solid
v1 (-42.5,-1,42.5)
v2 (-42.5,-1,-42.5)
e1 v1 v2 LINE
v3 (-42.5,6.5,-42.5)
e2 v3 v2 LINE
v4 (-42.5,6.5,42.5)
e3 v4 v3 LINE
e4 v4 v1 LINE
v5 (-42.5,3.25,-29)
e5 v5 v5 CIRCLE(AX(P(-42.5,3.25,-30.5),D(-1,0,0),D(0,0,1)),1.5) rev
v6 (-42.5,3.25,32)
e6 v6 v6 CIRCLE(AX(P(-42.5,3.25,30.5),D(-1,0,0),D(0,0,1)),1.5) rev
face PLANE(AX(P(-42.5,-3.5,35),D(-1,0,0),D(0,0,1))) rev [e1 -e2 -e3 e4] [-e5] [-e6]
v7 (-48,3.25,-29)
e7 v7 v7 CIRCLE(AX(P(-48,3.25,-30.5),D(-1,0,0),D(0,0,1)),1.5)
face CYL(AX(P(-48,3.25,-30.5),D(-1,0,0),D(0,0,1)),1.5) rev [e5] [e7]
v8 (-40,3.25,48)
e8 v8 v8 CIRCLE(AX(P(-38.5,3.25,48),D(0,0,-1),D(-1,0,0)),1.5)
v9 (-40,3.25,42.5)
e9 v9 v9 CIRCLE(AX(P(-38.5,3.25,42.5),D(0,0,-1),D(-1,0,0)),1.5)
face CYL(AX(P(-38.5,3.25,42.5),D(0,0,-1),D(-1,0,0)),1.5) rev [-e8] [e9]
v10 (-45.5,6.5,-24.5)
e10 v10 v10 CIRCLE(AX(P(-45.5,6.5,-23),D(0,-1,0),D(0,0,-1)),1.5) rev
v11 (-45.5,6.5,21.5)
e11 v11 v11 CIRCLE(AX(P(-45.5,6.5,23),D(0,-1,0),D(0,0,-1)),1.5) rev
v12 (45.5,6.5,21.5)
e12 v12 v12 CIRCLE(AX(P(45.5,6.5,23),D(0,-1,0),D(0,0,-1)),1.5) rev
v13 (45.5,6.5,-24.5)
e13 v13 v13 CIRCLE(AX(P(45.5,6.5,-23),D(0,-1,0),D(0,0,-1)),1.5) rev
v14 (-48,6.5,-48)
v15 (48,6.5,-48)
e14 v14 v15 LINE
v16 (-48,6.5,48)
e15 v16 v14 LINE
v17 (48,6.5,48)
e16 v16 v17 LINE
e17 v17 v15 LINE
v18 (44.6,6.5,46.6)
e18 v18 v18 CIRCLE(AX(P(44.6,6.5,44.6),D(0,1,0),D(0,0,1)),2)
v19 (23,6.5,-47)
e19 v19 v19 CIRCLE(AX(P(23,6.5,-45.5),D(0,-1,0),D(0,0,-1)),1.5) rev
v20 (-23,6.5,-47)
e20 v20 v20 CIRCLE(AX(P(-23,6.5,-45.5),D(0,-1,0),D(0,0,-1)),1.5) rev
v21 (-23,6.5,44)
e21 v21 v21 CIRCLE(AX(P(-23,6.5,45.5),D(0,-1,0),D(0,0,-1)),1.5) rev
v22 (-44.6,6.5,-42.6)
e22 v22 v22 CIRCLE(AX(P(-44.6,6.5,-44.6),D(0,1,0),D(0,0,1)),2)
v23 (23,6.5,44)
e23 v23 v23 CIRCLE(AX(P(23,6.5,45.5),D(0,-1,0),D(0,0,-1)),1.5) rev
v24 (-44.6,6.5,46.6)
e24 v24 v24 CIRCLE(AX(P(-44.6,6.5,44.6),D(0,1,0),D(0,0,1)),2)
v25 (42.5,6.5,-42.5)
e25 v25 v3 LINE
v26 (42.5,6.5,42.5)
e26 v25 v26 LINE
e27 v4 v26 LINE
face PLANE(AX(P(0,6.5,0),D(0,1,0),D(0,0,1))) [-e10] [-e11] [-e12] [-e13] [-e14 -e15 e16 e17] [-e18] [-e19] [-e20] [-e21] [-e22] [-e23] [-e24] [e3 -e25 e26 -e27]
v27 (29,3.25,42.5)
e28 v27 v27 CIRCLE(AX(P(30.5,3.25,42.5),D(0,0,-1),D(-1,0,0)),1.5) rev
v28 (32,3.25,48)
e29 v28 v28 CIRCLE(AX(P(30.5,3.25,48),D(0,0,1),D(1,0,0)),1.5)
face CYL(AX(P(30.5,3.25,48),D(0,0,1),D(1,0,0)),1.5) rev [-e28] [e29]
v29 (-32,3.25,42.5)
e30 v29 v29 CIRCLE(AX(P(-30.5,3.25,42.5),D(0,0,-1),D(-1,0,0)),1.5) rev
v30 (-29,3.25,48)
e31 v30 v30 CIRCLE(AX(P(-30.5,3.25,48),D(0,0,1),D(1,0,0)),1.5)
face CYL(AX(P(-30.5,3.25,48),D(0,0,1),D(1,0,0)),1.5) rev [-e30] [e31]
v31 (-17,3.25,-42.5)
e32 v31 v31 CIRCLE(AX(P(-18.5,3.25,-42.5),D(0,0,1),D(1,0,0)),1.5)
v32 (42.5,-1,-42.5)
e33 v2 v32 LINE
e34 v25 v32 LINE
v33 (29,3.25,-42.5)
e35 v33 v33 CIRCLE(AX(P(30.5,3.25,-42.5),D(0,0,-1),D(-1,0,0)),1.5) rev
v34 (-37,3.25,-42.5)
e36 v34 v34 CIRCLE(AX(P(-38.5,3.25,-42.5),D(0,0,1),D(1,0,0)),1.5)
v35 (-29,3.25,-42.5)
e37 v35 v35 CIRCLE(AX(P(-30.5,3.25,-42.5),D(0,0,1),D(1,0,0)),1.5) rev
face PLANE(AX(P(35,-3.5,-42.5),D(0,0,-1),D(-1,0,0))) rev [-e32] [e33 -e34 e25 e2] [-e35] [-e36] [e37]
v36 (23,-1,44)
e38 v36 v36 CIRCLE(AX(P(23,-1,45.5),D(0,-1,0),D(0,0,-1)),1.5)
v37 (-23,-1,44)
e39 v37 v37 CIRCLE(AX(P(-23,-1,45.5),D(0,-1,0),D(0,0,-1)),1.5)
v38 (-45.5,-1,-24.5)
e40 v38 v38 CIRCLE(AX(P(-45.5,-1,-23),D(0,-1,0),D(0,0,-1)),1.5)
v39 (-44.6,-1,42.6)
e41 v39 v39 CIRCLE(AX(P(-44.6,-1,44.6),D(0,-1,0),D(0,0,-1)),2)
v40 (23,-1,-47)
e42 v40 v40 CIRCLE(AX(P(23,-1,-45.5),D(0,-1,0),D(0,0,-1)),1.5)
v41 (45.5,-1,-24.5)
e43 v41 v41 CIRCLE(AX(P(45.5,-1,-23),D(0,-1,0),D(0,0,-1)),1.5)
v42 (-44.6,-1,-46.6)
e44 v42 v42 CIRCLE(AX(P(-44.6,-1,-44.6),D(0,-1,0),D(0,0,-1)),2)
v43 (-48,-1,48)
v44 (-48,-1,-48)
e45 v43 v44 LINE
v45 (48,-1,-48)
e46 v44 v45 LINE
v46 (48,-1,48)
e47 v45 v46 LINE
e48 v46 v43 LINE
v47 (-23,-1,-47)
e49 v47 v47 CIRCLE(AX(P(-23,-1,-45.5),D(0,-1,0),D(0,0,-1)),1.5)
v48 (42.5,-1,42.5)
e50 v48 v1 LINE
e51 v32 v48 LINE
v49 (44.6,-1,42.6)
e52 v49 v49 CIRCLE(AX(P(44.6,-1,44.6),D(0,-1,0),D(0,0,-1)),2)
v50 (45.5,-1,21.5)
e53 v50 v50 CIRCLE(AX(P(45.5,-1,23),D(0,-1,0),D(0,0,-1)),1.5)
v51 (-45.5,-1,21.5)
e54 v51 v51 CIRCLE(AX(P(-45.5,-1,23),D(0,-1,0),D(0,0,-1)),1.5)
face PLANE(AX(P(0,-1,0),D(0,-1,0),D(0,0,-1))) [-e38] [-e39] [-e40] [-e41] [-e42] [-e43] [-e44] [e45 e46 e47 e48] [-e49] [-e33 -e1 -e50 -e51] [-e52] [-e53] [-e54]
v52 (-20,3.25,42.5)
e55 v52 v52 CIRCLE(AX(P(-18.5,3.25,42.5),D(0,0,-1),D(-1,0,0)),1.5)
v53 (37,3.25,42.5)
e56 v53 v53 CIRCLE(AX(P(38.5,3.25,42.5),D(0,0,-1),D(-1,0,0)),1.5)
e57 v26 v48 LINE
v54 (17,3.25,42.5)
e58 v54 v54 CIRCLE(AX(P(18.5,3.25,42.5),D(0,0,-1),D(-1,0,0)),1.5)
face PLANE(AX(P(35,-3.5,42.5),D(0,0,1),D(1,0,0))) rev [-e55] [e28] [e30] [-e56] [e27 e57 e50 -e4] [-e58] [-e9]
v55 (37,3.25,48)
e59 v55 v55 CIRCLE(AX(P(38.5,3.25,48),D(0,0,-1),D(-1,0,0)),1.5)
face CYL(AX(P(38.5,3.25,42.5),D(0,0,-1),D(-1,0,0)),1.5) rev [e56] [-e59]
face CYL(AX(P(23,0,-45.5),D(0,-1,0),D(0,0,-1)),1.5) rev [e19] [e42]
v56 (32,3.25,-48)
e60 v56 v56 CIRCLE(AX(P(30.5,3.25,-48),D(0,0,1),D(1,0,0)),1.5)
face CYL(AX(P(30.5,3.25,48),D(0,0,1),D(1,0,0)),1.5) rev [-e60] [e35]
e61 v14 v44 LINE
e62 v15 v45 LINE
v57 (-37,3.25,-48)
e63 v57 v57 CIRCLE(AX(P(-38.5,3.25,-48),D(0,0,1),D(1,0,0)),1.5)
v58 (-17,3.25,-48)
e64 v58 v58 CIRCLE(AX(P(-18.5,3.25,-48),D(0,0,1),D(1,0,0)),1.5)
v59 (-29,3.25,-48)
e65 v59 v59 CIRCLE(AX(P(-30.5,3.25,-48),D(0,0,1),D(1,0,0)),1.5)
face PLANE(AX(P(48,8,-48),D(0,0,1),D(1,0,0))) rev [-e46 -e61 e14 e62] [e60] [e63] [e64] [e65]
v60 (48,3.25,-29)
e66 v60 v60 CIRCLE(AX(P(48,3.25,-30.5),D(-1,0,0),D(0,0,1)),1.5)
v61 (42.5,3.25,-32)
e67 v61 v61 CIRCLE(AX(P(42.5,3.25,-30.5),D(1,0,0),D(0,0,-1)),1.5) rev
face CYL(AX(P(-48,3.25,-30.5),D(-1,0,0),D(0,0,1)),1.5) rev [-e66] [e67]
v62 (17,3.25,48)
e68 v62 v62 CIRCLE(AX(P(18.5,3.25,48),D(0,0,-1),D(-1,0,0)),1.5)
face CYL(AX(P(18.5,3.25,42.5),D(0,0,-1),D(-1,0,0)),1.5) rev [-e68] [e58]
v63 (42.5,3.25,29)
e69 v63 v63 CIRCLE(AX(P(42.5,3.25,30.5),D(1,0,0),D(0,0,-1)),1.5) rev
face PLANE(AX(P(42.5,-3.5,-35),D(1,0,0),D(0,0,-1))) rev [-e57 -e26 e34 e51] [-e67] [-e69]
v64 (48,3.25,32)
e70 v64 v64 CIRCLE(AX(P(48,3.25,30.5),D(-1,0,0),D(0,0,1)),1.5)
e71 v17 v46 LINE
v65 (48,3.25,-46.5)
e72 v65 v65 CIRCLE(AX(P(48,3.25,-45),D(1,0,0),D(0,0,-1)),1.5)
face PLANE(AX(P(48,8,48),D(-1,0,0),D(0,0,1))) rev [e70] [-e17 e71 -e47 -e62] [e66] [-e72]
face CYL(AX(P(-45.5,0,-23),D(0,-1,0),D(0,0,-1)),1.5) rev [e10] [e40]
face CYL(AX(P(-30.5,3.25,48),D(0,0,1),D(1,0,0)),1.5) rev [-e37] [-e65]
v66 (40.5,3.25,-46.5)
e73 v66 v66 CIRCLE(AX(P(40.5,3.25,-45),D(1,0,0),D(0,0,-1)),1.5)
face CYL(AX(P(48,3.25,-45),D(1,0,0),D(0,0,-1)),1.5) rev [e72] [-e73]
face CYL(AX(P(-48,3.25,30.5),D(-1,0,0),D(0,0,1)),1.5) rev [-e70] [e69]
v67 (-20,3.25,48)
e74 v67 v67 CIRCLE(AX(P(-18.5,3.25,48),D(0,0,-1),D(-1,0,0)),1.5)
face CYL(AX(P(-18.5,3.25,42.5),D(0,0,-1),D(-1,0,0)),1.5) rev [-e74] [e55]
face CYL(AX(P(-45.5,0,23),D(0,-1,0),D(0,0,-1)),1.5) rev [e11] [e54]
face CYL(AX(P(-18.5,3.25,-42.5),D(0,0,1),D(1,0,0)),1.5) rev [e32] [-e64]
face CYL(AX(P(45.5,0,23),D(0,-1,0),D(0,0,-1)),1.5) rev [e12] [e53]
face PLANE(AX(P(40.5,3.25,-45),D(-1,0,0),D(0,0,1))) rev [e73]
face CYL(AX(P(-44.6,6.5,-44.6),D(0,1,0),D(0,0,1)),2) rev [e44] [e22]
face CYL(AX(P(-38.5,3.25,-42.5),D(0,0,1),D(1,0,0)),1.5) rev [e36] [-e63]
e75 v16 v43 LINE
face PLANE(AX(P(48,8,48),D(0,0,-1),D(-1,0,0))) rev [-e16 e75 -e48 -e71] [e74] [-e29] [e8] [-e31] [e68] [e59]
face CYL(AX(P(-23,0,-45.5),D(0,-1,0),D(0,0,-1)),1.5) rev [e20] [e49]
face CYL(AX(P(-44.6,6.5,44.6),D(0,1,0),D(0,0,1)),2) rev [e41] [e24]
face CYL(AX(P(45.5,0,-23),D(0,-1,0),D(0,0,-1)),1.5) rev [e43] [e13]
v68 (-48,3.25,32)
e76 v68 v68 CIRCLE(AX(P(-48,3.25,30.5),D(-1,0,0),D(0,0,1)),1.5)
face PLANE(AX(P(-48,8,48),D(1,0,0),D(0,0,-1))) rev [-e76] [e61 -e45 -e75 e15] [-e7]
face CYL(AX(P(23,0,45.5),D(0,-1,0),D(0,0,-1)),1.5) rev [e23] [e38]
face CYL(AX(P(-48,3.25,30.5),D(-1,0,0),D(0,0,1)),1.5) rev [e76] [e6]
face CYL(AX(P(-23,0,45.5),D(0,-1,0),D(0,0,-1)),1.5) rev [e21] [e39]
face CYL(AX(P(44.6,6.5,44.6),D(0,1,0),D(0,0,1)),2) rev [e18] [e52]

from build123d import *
from build123d.topology import SkipClean

# Parameters (mm, degrees)
SKETCH1_W                               = 96
SKETCH1_H                               = 96
SKETCH1_W_2                             = 80
SKETCH1_H_2                             = 80
BOSS_EXTRUDE1_DEPTH                     = 8
SKETCH27_W                              = 82
SKETCH27_H                              = 82
CUT_EXTRUDE2_DEPTH                      = 10
F_3_0_3_DIAMETER_HOLE1_D                = 3
TAP_DRILL_FOR_M3X0_5_TAP2_D             = 3
SKETCH38_W                              = 85
SKETCH38_H                              = 85
CUT_EXTRUDE4_DEPTH                      = 10
F_3_0_3_DIAMETER_HOLE7_D                = 3
SKETCH44_W                              = 4
SKETCH44_H                              = 4
BOSS_EXTRUDE2_DEPTH                     = 8
SKETCH45_W                              = 4
SKETCH45_H                              = 3.5
BOSS_EXTRUDE3_DEPTH                     = 8
SKETCH49_W                              = 96
SKETCH49_H                              = 1.5
CUT_EXTRUDE5_DEPTH                      = 146
TAP_DRILL_FOR_M4_TAP1_D                 = 4
SKETCH53_W                              = 4
SKETCH53_H                              = 6.5
BOSS_EXTRUDE5_DEPTH                     = 78
SKETCH57_W                              = 4
SKETCH57_H                              = 6.5
CUT_EXTRUDE6_DEPTH                      = 7.5
SKETCH58_W                              = 4
SKETCH58_H                              = 6.5
BOSS_EXTRUDE7_DEPTH                     = 81
SKETCH61_W                              = 32
SKETCH61_H                              = 85
CUT_EXTRUDE7_DEPTH                      = 81
SKETCH66_W                              = 85
SKETCH66_H                              = 80.198
CUT_EXTRUDE8_DEPTH                      = 10
SKETCH67_W                              = 85
SKETCH67_H                              = 85
CUT_EXTRUDE9_DEPTH                      = 3.5
SKETCH68_W                              = 52
SKETCH68_H                              = 85
CUT_EXTRUDE10_DEPTH                     = 56
SKETCH54_W                              = 20
SKETCH54_H                              = 1.45
BOSS_EXTRUDE8_DEPTH                     = 18.5
CUT_EXTRUDE12_START                     = -10.22
SKETCH75_W                              = 2.401
SKETCH75_H                              = 3
CUT_EXTRUDE12_DEPTH                     = 72.44
SKETCH77_W                              = 2.401
SKETCH77_H                              = 3
CUT_EXTRUDE13_DEPTH                     = 6.28
SKETCH78_W                              = 85
SKETCH78_H                              = 85
CUT_EXTRUDE14_DEPTH                     = 6.5
SKETCH79_W                              = 85
SKETCH79_H                              = 85
SKETCH79_W_2                            = 81
SKETCH79_H_2                            = 81
BOSS_EXTRUDE12_DEPTH                    = 6.5
SKETCH82_W                              = 1.25
SKETCH82_H                              = 7.5
TAP_DRILL_FOR_M2_5X0_45_TAP2_AT_2_COUNT = 2
TAP_DRILL_FOR_M2_5X0_45_TAP2_AT_2_PITCH = 9.5
TAP_DRILL_FOR_M2_5X0_45_TAP2_AT_3_COUNT = 2
TAP_DRILL_FOR_M2_5X0_45_TAP2_AT_3_PITCH = 66.500000164
TAP_DRILL_FOR_M2_5X0_45_TAP2_AT_4_COUNT = 2
TAP_DRILL_FOR_M2_5X0_45_TAP2_AT_4_PITCH = 57.000000192
SKETCH84_W                              = 1.25
SKETCH84_H                              = 1.451
TAP_DRILL_FOR_M2_5X0_45_TAP3_AT_2_COUNT = 2
TAP_DRILL_FOR_M2_5X0_45_TAP3_AT_2_PITCH = 9.5
SKETCH86_W                              = 1.5
SKETCH86_H                              = 7.5
SKETCH88_W                              = 2
SKETCH88_H                              = 70
SKETCH88_W_2                            = 70
SKETCH88_H_2                            = 2
CUT_EXTRUDE15_DEPTH                     = 10
SKETCH89_W                              = 85
SKETCH89_H                              = 81
CUT_EXTRUDE16_DEPTH                     = 10
SKETCH90_W                              = 2
SKETCH90_H                              = 6.5
CUT_EXTRUDE17_DEPTH                     = 7.5
SKETCH91_W                              = 96
SKETCH91_H                              = 96
SKETCH91_R                              = 1.5
SKETCH91_R_2                            = 2
BOSS_EXTRUDE14_DEPTH                    = 1
SKETCH92_W                              = 12.5
SKETCH92_H                              = 2
BOSS_EXTRUDE15_DEPTH                    = 1
SKETCH94_W                              = 12.5
SKETCH94_H                              = 2
BOSS_EXTRUDE16_DEPTH                    = 1
SKETCH95_W                              = 12.5
SKETCH95_H                              = 2
BOSS_EXTRUDE17_DEPTH                    = 1
SKETCH96_W                              = 12.5
SKETCH96_H                              = 6.5
SKETCH96_R                              = 1.5
BOSS_EXTRUDE18_DEPTH                    = 2
SKETCH97_W                              = 12.5
SKETCH97_H                              = 6.5
SKETCH97_R                              = 1.5
BOSS_EXTRUDE19_DEPTH                    = 2
CUT_EXTRUDE19_DEPTH                     = 45
CUT_EXTRUDE19_DEPTH_BACK                = 10
SKETCH98_W                              = 85
SKETCH98_H                              = 85
TAP_DRILL_FOR_M3X0_5_TAP5_D             = 3
TAP_DRILL_FOR_M3X0_5_TAP5_DEPTH         = 5.5
TAP_DRILL_FOR_M3X0_5_TAP6_D             = 3


with BuildPart() as part:
    # Sketch1 → Boss-Extrude1 (new body)
    with BuildSketch(Plane(origin=(0, 0, 0), x_dir=(1, 0, 0), z_dir=(0, 1, 0))):
        Rectangle(SKETCH1_W, SKETCH1_H)
        Rectangle(SKETCH1_W_2, SKETCH1_H_2, mode=Mode.SUBTRACT)
    extrude(amount=BOSS_EXTRUDE1_DEPTH)

    # Sketch27 → Cut-Extrude2 (cut)
    with BuildSketch(Plane(origin=(0, 8, 0), x_dir=(1, 0, 0), z_dir=(0, 1, 0))):
        Rectangle(SKETCH27_W, SKETCH27_H)
    extrude(amount=-CUT_EXTRUDE2_DEPTH, mode=Mode.SUBTRACT)

    # Ø3.0 (3) Diameter Hole1 (through all)
    with Locations(Plane.XY.offset(48)):
        with Locations((-30.5, 3.25), (30.5, 3.25)):
            Hole(F_3_0_3_DIAMETER_HOLE1_D / 2)

    # Tap Drill for M3x0.5 Tap2 (through all)
    with Locations(Plane(origin=(0, 0, 0), x_dir=(-1, 0, 0), z_dir=(0, -1, 0))):
        with Locations((23, -45.5), (-23, -45.5), (-45.5, -23), (-45.5, 23), (-23, 45.5), (23, 45.5), (45.5, 23), (45.5, -23)):
            Hole(TAP_DRILL_FOR_M3X0_5_TAP2_D / 2)

    # Sketch38 → Cut-Extrude4 (cut)
    with BuildSketch(Plane(origin=(0, 8, 0), x_dir=(1, 0, 0), z_dir=(0, 1, 0))):
        Rectangle(SKETCH38_W, SKETCH38_H)
    extrude(amount=-CUT_EXTRUDE4_DEPTH, mode=Mode.SUBTRACT)

    # Ø3.0 (3) Diameter Hole7 (through all)
    with Locations(Plane.ZY.offset(48)):
        with Locations((-30.5, 3.25), (30.5, 3.25)):
            Hole(F_3_0_3_DIAMETER_HOLE7_D / 2)

    # Sketch44 → Boss-Extrude2 (add)
    with BuildSketch(Plane.XZ):
        with Locations((40.5, -40.5)):
            Rectangle(SKETCH44_W, SKETCH44_H)
        with Locations((-40.5, -40.5)):
            Rectangle(SKETCH44_W, SKETCH44_H)
        with Locations((-40.5, 40.5)):
            Rectangle(SKETCH44_W, SKETCH44_H)
        with Locations((40.5, 40.5)):
            Rectangle(SKETCH44_W, SKETCH44_H)
    extrude(amount=-BOSS_EXTRUDE2_DEPTH)

    # Sketch45 → Boss-Extrude3 (add)
    with BuildSketch(Plane(origin=(0, 8, 0), x_dir=(1, 0, 0), z_dir=(0, 1, 0))):
        with Locations((-40.5, 36.75)):
            Rectangle(SKETCH45_W, SKETCH45_H)
    extrude(amount=-BOSS_EXTRUDE3_DEPTH)

    # Sketch49 → Cut-Extrude5 (cut)
    with BuildSketch(Plane(origin=(48, 0, 0), x_dir=(0, 0, -1), z_dir=(1, 0, 0))):
        with Locations((0, 7.25)):
            Rectangle(SKETCH49_W, SKETCH49_H)
    extrude(amount=-CUT_EXTRUDE5_DEPTH, mode=Mode.SUBTRACT)

    # Tap Drill for M4 Tap1 (through all)
    with Locations(Plane(origin=(0, 6.5, 0), x_dir=(1, 0, 0), z_dir=(0, 1, 0))):
        with Locations((44.6, -44.6), (-44.6, -44.6), (-44.6, 44.6)):
            Hole(TAP_DRILL_FOR_M4_TAP1_D / 2)

    # Sketch53 → Boss-Extrude5 (add)
    with BuildSketch(Plane(origin=(-38.5, 0, 0), x_dir=(0, 0, -1), z_dir=(1, 0, 0))):
        with Locations((-40.5, 3.25)):
            Rectangle(SKETCH53_W, SKETCH53_H)
    extrude(amount=BOSS_EXTRUDE5_DEPTH)

    # Sketch57 → Cut-Extrude6 (cut)
    with BuildSketch(Plane.XY.offset(-35)):
        with Locations((-40.5, 3.25)):
            Rectangle(SKETCH57_W, SKETCH57_H)
    extrude(amount=-CUT_EXTRUDE6_DEPTH, mode=Mode.SUBTRACT)

    # Sketch58 → Boss-Extrude7 (add)
    with BuildSketch(Plane.ZY.offset(-38.5)):
        with Locations((-40.5, 3.25)):
            Rectangle(SKETCH58_W, SKETCH58_H)
    extrude(amount=BOSS_EXTRUDE7_DEPTH)

    # Sketch61 → Cut-Extrude7 (cut)
    with BuildSketch(Plane(origin=(0, 6.5, 0), x_dir=(1, 0, 0), z_dir=(0, 1, 0))):
        Rectangle(SKETCH61_W, SKETCH61_H)
    extrude(amount=-CUT_EXTRUDE7_DEPTH, mode=Mode.SUBTRACT)

    # Sketch66 → Cut-Extrude8 (cut)
    with BuildSketch(Plane(origin=(0, 6.5, 0), x_dir=(1, 0, 0), z_dir=(0, 1, 0))):
        Rectangle(SKETCH66_W, SKETCH66_H)
    extrude(amount=-CUT_EXTRUDE8_DEPTH, mode=Mode.SUBTRACT)

    # Sketch67 → Cut-Extrude9 (cut)
    with BuildSketch(Plane.XZ):
        Rectangle(SKETCH67_W, SKETCH67_H)
    extrude(amount=-CUT_EXTRUDE9_DEPTH, mode=Mode.SUBTRACT)

    # Sketch68 → Cut-Extrude10 (cut)
    with BuildSketch(Plane(origin=(0, 6.5, 0), x_dir=(1, 0, 0), z_dir=(0, 1, 0))):
        Rectangle(SKETCH68_W, SKETCH68_H)
    extrude(amount=-CUT_EXTRUDE10_DEPTH, mode=Mode.SUBTRACT)

    # Sketch54 → Boss-Extrude8 (add)
    with BuildSketch(Plane(origin=(0, 6.5, 0), x_dir=(1, 0, 0), z_dir=(0, 1, 0))):
        with Locations((-32.5, -41.225)):
            Rectangle(SKETCH54_W, SKETCH54_H)
    boss_extrude8 = extrude(amount=BOSS_EXTRUDE8_DEPTH)

    # Mirror1: Boss-Extrude8 across plane
    add(boss_extrude8.mirror(Plane(origin=(0, 0, 0), x_dir=(0, 0, 1), z_dir=(1, 0, 0))))

    # Sketch75 → Cut-Extrude12 (cut)
    with BuildSketch(Plane.ZY.offset(-26).offset(CUT_EXTRUDE12_START)):
        with Locations((41.2995, 5)):
            Rectangle(SKETCH75_W, SKETCH75_H)
    cut_extrude12 = extrude(amount=CUT_EXTRUDE12_DEPTH, mode=Mode.SUBTRACT)

    # Mirror2: Boss-Extrude8 across plane
    add(boss_extrude8.mirror(Plane.XY))

    # Mirror3: Cut-Extrude12 across plane
    add(cut_extrude12.mirror(Plane.XY), mode=Mode.SUBTRACT)

    # Sketch77 → Cut-Extrude13 (cut)
    with BuildSketch(Plane.ZY.offset(-36.22)):
        with Locations((-41.2995, 5)):
            Rectangle(SKETCH77_W, SKETCH77_H)
    extrude(amount=-CUT_EXTRUDE13_DEPTH, mode=Mode.SUBTRACT)

    # Sketch78 → Cut-Extrude14 (cut)
    with BuildSketch(Plane.XZ):
        Rectangle(SKETCH78_W, SKETCH78_H)
    extrude(amount=-CUT_EXTRUDE14_DEPTH, mode=Mode.SUBTRACT)


with BuildPart() as cut_extrude14_piece_1:
    # of the separate pieces the step leaves, piece 1, a body of its own (cut_extrude14_pieces)
    add(part.part.solids().sort_by_distance((48, 0, 48))[0])

    # Sketch79 → Boss-Extrude12 (add)
    with BuildSketch(Plane.XZ):
        Rectangle(SKETCH79_W, SKETCH79_H)
        Rectangle(SKETCH79_W_2, SKETCH79_H_2, mode=Mode.SUBTRACT)
    extrude(amount=-BOSS_EXTRUDE12_DEPTH)

    # Sketch86 → Tap Drill for M3x0.5 Tap4 (revolve, cut)
    with BuildSketch(Plane(origin=(48, 3.25, -45), x_dir=(0, 0, -1), z_dir=(0, 1, 0))):
        with Locations((0.75, 3.75)):
            Rectangle(SKETCH86_W, SKETCH86_H)
    revolve(axis=Axis((54.35, 3.25, -45), (-1, 0, 0)), mode=Mode.SUBTRACT)

    # Sketch88 → Cut-Extrude15 (cut)
    with BuildSketch(Plane(origin=(0, 6.5, 0), x_dir=(1, 0, 0), z_dir=(0, 1, 0))):
        with Locations((41.5, 0)):
            Rectangle(SKETCH88_W, SKETCH88_H)
        with Locations((0, -41.5)):
            Rectangle(SKETCH88_W_2, SKETCH88_H_2)
        with Locations((-41.5, 0)):
            Rectangle(SKETCH88_W, SKETCH88_H)
        with Locations((0, 41.5)):
            Rectangle(SKETCH88_W_2, SKETCH88_H_2)
    extrude(amount=-CUT_EXTRUDE15_DEPTH, mode=Mode.SUBTRACT)

    # Sketch89 → Cut-Extrude16 (cut)
    with BuildSketch(Plane(origin=(0, 6.5, 0), x_dir=(1, 0, 0), z_dir=(0, 1, 0))):
        Rectangle(SKETCH89_W, SKETCH89_H)
    extrude(amount=-CUT_EXTRUDE16_DEPTH, mode=Mode.SUBTRACT)

    # Sketch90 → Cut-Extrude17 (cut)
    with BuildSketch(Plane.ZY.offset(-35)):
        with Locations((-41.5, 3.25)):
            Rectangle(SKETCH90_W, SKETCH90_H)
    extrude(amount=-CUT_EXTRUDE17_DEPTH, mode=Mode.SUBTRACT)

    # Sketch91 → Boss-Extrude14 (add)
    with SkipClean():  # the faces are left unmerged after this step: merging them gives an invalid solid
        with BuildSketch(Plane.XZ):
            Rectangle(SKETCH91_W, SKETCH91_H)
            with Locations(Location((23, -45.5, 0), (0, 0, 270))):
                Circle(SKETCH91_R, mode=Mode.SUBTRACT)
            with Locations(Location((-23, -45.5, 0), (0, 0, 270))):
                Circle(SKETCH91_R, mode=Mode.SUBTRACT)
            with Locations(Location((44.6, 44.6, 0), (0, 0, 90))):
                Circle(SKETCH91_R_2, mode=Mode.SUBTRACT)
            with Locations(Location((-45.5, -23, 0), (0, 0, 270))):
                Circle(SKETCH91_R, mode=Mode.SUBTRACT)
            with Locations(Location((-45.5, 23, 0), (0, 0, 270))):
                Circle(SKETCH91_R, mode=Mode.SUBTRACT)
            with Locations(Location((-23, 45.5, 0), (0, 0, 270))):
                Circle(SKETCH91_R, mode=Mode.SUBTRACT)
            with Locations(Location((23, 45.5, 0), (0, 0, 270))):
                Circle(SKETCH91_R, mode=Mode.SUBTRACT)
            with Locations(Location((45.5, 23, 0), (0, 0, 270))):
                Circle(SKETCH91_R, mode=Mode.SUBTRACT)
            with Locations(Location((-44.6, -44.6, 0), (0, 0, 90))):
                Circle(SKETCH91_R_2, mode=Mode.SUBTRACT)
            with Locations(Location((45.5, -23, 0), (0, 0, 270))):
                Circle(SKETCH91_R, mode=Mode.SUBTRACT)
            with Locations(Location((-44.6, 44.6, 0), (0, 0, 90))):
                Circle(SKETCH91_R_2, mode=Mode.SUBTRACT)
            Polygon((42.5, -42.5), (-35, -42.5), (-35, -40.5), (-42.5, -40.5), (-42.5, 40.5), (-35, 40.5), (-35, 42.5), (35, 42.5), (35, 40.5), (42.5, 40.5), align=None, mode=Mode.SUBTRACT)
        extrude(amount=BOSS_EXTRUDE14_DEPTH)



with BuildPart() as cut_extrude14_piece_2:
    # of the separate pieces the step leaves, piece 2, a body of its own (cut_extrude14_pieces)
    add(part.part.solids().sort_by_distance((-42.5, 25, -40.5))[0])

    # Sketch84 → Tap Drill for M2.5x0.45 Tap3 (revolve, cut)
    with BuildSketch(Plane(origin=(-28.5, 21.425324496, -40.5), x_dir=(0, -1, 0), z_dir=(1, 0, 0))):
        with Locations((0.625, 0.7255)):
            Rectangle(SKETCH84_W, SKETCH84_H)
    tap_drill_for_m2_5x0_45_tap3 = revolve(axis=Axis((-28.5, 21.425324496, -34.15), (0, 0, -1)), mode=Mode.SUBTRACT)

    # Tap Drill for M2.5x0.45 Tap3 at 2: Tap Drill for M2.5x0.45 Tap3 ×2
    with Locations(*[(-i * TAP_DRILL_FOR_M2_5X0_45_TAP3_AT_2_PITCH, 0, 0) for i in range(1, TAP_DRILL_FOR_M2_5X0_45_TAP3_AT_2_COUNT)]):
        add(tap_drill_for_m2_5x0_45_tap3, mode=Mode.SUBTRACT)


with BuildPart() as cut_extrude14_piece_3:
    # of the separate pieces the step leaves, piece 3, a body of its own (cut_extrude14_pieces)
    add(part.part.solids().sort_by_distance((-42.5, 25, 40.5))[0])

    # Sketch82 → Tap Drill for M2.5x0.45 Tap2 (revolve, cut)
    with BuildSketch(Plane(origin=(-28.5, 21.425324496, 40.5), x_dir=(0, 1, 0), z_dir=(1, 0, 0))):
        with Locations((0.625, 3.75)):
            Rectangle(SKETCH82_W, SKETCH82_H)
    tap_drill_for_m2_5x0_45_tap2 = revolve(axis=Axis((-28.5, 21.425324496, 34.15), (0, 0, 1)), mode=Mode.SUBTRACT)

    # Tap Drill for M2.5x0.45 Tap2 at 2: Tap Drill for M2.5x0.45 Tap2 ×2
    with Locations(*[(-i * TAP_DRILL_FOR_M2_5X0_45_TAP2_AT_2_PITCH, 0, 0) for i in range(1, TAP_DRILL_FOR_M2_5X0_45_TAP2_AT_2_COUNT)]):
        add(tap_drill_for_m2_5x0_45_tap2, mode=Mode.SUBTRACT)


with BuildPart() as cut_extrude14_piece_4:
    # of the separate pieces the step leaves, piece 4, a body of its own (cut_extrude14_pieces)
    add(part.part.solids().sort_by_distance((42.5, 25, 40.5))[0])

    # Tap Drill for M2.5x0.45 Tap2 at 3: Tap Drill for M2.5x0.45 Tap2 ×2
    with Locations(*[Vector(0.9999999975283697, 7.030832685372667e-05, 0) * (i * TAP_DRILL_FOR_M2_5X0_45_TAP2_AT_3_PITCH) for i in range(1, TAP_DRILL_FOR_M2_5X0_45_TAP2_AT_3_COUNT)]):
        add(tap_drill_for_m2_5x0_45_tap2, mode=Mode.SUBTRACT)

    # Tap Drill for M2.5x0.45 Tap2 at 4: Tap Drill for M2.5x0.45 Tap2 ×2
    with Locations(*[Vector(0.9999999966358364, 8.202638125607419e-05, 0) * (i * TAP_DRILL_FOR_M2_5X0_45_TAP2_AT_4_PITCH) for i in range(1, TAP_DRILL_FOR_M2_5X0_45_TAP2_AT_4_COUNT)]):
        add(tap_drill_for_m2_5x0_45_tap2, mode=Mode.SUBTRACT)


with BuildPart() as cut_extrude14_piece_1_1:
    with SkipClean():  # the faces are left unmerged after this step: merging them gives an invalid solid
        add(cut_extrude14_piece_1.part)

        add(cut_extrude14_piece_3.part)  # Boss-Extrude15 merges Cut-Extrude14 piece 3
        # Sketch92 → Boss-Extrude15 (add)
        with BuildSketch(Plane.XZ.offset(-6.5)):
            with Locations((-28.75, 41.5)):
                Rectangle(SKETCH92_W, SKETCH92_H)
        extrude(amount=BOSS_EXTRUDE15_DEPTH)


    with SkipClean():  # the faces are left unmerged after this step: merging them gives an invalid solid
        add(cut_extrude14_piece_4.part)  # Boss-Extrude16 merges Cut-Extrude14 piece 4
        # Sketch94 → Boss-Extrude16 (add)
        with BuildSketch(Plane.XZ.offset(-6.5)):
            with Locations((28.75, 41.5)):
                Rectangle(SKETCH94_W, SKETCH94_H)
        extrude(amount=BOSS_EXTRUDE16_DEPTH)


    with SkipClean():  # the faces are left unmerged after this step: merging them gives an invalid solid
        add(cut_extrude14_piece_2.part)  # Boss-Extrude17 merges Cut-Extrude14 piece 2
        # Sketch95 → Boss-Extrude17 (add)
        with BuildSketch(Plane.XZ.offset(-6.5)):
            with Locations((-28.75, -41.5)):
                Rectangle(SKETCH95_W, SKETCH95_H)
        extrude(amount=BOSS_EXTRUDE17_DEPTH)

    # Sketch96 → Boss-Extrude18 (add)
    with SkipClean():  # the faces are left unmerged after this step: merging them gives an invalid solid
        with BuildSketch(Plane.XY.offset(-42.5)):
            with Locations((-28.75, 2.25)):
                Rectangle(SKETCH96_W, SKETCH96_H)
            with Locations((-30.5, 3.25)):
                Circle(SKETCH96_R, mode=Mode.SUBTRACT)
        extrude(amount=BOSS_EXTRUDE18_DEPTH)

    # Sketch97 → Boss-Extrude19 (add)
    # profile 1 of 2: a face of its own
    with SkipClean():  # the faces are left unmerged after this step: merging them gives an invalid solid
        with BuildSketch(Plane(origin=(0, 0, 42.5), x_dir=(-1, 0, 0), z_dir=(0, 0, -1))):
            with Locations((-28.75, 2.25)):
                Rectangle(SKETCH97_W, SKETCH97_H)
            with Locations(Location((-30.5, 3.25, 0), (0, 0, 180))):
                Circle(SKETCH97_R, mode=Mode.SUBTRACT)
        # profile 2 of 2: a face of its own
        with BuildSketch(Plane(origin=(0, 0, 42.5), x_dir=(-1, 0, 0), z_dir=(0, 0, -1))):
            with Locations((28.75, 2.25)):
                Rectangle(SKETCH97_W, SKETCH97_H)
            with Locations(Location((30.5, 3.25, 0), (0, 0, 180))):
                Circle(SKETCH97_R, mode=Mode.SUBTRACT)
        extrude(amount=BOSS_EXTRUDE19_DEPTH)

    # Sketch98 → Cut-Extrude19 (cut, two sides: drawn at the far end of the back side and taken through both)
    with SkipClean():  # the faces are left unmerged after this step: merging them gives an invalid solid
        with BuildSketch(Plane(origin=(0, 6.5, 0), x_dir=(1, 0, 0), z_dir=(0, 1, 0)).offset(-CUT_EXTRUDE19_DEPTH_BACK)):
            Rectangle(SKETCH98_W, SKETCH98_H)
        extrude(amount=CUT_EXTRUDE19_DEPTH + CUT_EXTRUDE19_DEPTH_BACK, mode=Mode.SUBTRACT)

    # Tap Drill for M3x0.5 Tap5
    with Locations(Plane(origin=(0, 0, 42.5), x_dir=(-1, 0, 0), z_dir=(0, 0, -1))):
        with Locations((38.5, 3.25), (18.5, 3.25), (-18.5, 3.25), (-38.5, 3.25)):
            Hole(TAP_DRILL_FOR_M3X0_5_TAP5_D / 2, depth=TAP_DRILL_FOR_M3X0_5_TAP5_DEPTH)

    # Tap Drill for M3x0.5 Tap6 (through all)
    with Locations(Plane.XY.offset(-42.5)):
        with Locations((-38.5, 3.25), (-18.5, 3.25)):
            Hole(TAP_DRILL_FOR_M3X0_5_TAP6_D / 2)


solid = cut_extrude14_piece_1_1.part
